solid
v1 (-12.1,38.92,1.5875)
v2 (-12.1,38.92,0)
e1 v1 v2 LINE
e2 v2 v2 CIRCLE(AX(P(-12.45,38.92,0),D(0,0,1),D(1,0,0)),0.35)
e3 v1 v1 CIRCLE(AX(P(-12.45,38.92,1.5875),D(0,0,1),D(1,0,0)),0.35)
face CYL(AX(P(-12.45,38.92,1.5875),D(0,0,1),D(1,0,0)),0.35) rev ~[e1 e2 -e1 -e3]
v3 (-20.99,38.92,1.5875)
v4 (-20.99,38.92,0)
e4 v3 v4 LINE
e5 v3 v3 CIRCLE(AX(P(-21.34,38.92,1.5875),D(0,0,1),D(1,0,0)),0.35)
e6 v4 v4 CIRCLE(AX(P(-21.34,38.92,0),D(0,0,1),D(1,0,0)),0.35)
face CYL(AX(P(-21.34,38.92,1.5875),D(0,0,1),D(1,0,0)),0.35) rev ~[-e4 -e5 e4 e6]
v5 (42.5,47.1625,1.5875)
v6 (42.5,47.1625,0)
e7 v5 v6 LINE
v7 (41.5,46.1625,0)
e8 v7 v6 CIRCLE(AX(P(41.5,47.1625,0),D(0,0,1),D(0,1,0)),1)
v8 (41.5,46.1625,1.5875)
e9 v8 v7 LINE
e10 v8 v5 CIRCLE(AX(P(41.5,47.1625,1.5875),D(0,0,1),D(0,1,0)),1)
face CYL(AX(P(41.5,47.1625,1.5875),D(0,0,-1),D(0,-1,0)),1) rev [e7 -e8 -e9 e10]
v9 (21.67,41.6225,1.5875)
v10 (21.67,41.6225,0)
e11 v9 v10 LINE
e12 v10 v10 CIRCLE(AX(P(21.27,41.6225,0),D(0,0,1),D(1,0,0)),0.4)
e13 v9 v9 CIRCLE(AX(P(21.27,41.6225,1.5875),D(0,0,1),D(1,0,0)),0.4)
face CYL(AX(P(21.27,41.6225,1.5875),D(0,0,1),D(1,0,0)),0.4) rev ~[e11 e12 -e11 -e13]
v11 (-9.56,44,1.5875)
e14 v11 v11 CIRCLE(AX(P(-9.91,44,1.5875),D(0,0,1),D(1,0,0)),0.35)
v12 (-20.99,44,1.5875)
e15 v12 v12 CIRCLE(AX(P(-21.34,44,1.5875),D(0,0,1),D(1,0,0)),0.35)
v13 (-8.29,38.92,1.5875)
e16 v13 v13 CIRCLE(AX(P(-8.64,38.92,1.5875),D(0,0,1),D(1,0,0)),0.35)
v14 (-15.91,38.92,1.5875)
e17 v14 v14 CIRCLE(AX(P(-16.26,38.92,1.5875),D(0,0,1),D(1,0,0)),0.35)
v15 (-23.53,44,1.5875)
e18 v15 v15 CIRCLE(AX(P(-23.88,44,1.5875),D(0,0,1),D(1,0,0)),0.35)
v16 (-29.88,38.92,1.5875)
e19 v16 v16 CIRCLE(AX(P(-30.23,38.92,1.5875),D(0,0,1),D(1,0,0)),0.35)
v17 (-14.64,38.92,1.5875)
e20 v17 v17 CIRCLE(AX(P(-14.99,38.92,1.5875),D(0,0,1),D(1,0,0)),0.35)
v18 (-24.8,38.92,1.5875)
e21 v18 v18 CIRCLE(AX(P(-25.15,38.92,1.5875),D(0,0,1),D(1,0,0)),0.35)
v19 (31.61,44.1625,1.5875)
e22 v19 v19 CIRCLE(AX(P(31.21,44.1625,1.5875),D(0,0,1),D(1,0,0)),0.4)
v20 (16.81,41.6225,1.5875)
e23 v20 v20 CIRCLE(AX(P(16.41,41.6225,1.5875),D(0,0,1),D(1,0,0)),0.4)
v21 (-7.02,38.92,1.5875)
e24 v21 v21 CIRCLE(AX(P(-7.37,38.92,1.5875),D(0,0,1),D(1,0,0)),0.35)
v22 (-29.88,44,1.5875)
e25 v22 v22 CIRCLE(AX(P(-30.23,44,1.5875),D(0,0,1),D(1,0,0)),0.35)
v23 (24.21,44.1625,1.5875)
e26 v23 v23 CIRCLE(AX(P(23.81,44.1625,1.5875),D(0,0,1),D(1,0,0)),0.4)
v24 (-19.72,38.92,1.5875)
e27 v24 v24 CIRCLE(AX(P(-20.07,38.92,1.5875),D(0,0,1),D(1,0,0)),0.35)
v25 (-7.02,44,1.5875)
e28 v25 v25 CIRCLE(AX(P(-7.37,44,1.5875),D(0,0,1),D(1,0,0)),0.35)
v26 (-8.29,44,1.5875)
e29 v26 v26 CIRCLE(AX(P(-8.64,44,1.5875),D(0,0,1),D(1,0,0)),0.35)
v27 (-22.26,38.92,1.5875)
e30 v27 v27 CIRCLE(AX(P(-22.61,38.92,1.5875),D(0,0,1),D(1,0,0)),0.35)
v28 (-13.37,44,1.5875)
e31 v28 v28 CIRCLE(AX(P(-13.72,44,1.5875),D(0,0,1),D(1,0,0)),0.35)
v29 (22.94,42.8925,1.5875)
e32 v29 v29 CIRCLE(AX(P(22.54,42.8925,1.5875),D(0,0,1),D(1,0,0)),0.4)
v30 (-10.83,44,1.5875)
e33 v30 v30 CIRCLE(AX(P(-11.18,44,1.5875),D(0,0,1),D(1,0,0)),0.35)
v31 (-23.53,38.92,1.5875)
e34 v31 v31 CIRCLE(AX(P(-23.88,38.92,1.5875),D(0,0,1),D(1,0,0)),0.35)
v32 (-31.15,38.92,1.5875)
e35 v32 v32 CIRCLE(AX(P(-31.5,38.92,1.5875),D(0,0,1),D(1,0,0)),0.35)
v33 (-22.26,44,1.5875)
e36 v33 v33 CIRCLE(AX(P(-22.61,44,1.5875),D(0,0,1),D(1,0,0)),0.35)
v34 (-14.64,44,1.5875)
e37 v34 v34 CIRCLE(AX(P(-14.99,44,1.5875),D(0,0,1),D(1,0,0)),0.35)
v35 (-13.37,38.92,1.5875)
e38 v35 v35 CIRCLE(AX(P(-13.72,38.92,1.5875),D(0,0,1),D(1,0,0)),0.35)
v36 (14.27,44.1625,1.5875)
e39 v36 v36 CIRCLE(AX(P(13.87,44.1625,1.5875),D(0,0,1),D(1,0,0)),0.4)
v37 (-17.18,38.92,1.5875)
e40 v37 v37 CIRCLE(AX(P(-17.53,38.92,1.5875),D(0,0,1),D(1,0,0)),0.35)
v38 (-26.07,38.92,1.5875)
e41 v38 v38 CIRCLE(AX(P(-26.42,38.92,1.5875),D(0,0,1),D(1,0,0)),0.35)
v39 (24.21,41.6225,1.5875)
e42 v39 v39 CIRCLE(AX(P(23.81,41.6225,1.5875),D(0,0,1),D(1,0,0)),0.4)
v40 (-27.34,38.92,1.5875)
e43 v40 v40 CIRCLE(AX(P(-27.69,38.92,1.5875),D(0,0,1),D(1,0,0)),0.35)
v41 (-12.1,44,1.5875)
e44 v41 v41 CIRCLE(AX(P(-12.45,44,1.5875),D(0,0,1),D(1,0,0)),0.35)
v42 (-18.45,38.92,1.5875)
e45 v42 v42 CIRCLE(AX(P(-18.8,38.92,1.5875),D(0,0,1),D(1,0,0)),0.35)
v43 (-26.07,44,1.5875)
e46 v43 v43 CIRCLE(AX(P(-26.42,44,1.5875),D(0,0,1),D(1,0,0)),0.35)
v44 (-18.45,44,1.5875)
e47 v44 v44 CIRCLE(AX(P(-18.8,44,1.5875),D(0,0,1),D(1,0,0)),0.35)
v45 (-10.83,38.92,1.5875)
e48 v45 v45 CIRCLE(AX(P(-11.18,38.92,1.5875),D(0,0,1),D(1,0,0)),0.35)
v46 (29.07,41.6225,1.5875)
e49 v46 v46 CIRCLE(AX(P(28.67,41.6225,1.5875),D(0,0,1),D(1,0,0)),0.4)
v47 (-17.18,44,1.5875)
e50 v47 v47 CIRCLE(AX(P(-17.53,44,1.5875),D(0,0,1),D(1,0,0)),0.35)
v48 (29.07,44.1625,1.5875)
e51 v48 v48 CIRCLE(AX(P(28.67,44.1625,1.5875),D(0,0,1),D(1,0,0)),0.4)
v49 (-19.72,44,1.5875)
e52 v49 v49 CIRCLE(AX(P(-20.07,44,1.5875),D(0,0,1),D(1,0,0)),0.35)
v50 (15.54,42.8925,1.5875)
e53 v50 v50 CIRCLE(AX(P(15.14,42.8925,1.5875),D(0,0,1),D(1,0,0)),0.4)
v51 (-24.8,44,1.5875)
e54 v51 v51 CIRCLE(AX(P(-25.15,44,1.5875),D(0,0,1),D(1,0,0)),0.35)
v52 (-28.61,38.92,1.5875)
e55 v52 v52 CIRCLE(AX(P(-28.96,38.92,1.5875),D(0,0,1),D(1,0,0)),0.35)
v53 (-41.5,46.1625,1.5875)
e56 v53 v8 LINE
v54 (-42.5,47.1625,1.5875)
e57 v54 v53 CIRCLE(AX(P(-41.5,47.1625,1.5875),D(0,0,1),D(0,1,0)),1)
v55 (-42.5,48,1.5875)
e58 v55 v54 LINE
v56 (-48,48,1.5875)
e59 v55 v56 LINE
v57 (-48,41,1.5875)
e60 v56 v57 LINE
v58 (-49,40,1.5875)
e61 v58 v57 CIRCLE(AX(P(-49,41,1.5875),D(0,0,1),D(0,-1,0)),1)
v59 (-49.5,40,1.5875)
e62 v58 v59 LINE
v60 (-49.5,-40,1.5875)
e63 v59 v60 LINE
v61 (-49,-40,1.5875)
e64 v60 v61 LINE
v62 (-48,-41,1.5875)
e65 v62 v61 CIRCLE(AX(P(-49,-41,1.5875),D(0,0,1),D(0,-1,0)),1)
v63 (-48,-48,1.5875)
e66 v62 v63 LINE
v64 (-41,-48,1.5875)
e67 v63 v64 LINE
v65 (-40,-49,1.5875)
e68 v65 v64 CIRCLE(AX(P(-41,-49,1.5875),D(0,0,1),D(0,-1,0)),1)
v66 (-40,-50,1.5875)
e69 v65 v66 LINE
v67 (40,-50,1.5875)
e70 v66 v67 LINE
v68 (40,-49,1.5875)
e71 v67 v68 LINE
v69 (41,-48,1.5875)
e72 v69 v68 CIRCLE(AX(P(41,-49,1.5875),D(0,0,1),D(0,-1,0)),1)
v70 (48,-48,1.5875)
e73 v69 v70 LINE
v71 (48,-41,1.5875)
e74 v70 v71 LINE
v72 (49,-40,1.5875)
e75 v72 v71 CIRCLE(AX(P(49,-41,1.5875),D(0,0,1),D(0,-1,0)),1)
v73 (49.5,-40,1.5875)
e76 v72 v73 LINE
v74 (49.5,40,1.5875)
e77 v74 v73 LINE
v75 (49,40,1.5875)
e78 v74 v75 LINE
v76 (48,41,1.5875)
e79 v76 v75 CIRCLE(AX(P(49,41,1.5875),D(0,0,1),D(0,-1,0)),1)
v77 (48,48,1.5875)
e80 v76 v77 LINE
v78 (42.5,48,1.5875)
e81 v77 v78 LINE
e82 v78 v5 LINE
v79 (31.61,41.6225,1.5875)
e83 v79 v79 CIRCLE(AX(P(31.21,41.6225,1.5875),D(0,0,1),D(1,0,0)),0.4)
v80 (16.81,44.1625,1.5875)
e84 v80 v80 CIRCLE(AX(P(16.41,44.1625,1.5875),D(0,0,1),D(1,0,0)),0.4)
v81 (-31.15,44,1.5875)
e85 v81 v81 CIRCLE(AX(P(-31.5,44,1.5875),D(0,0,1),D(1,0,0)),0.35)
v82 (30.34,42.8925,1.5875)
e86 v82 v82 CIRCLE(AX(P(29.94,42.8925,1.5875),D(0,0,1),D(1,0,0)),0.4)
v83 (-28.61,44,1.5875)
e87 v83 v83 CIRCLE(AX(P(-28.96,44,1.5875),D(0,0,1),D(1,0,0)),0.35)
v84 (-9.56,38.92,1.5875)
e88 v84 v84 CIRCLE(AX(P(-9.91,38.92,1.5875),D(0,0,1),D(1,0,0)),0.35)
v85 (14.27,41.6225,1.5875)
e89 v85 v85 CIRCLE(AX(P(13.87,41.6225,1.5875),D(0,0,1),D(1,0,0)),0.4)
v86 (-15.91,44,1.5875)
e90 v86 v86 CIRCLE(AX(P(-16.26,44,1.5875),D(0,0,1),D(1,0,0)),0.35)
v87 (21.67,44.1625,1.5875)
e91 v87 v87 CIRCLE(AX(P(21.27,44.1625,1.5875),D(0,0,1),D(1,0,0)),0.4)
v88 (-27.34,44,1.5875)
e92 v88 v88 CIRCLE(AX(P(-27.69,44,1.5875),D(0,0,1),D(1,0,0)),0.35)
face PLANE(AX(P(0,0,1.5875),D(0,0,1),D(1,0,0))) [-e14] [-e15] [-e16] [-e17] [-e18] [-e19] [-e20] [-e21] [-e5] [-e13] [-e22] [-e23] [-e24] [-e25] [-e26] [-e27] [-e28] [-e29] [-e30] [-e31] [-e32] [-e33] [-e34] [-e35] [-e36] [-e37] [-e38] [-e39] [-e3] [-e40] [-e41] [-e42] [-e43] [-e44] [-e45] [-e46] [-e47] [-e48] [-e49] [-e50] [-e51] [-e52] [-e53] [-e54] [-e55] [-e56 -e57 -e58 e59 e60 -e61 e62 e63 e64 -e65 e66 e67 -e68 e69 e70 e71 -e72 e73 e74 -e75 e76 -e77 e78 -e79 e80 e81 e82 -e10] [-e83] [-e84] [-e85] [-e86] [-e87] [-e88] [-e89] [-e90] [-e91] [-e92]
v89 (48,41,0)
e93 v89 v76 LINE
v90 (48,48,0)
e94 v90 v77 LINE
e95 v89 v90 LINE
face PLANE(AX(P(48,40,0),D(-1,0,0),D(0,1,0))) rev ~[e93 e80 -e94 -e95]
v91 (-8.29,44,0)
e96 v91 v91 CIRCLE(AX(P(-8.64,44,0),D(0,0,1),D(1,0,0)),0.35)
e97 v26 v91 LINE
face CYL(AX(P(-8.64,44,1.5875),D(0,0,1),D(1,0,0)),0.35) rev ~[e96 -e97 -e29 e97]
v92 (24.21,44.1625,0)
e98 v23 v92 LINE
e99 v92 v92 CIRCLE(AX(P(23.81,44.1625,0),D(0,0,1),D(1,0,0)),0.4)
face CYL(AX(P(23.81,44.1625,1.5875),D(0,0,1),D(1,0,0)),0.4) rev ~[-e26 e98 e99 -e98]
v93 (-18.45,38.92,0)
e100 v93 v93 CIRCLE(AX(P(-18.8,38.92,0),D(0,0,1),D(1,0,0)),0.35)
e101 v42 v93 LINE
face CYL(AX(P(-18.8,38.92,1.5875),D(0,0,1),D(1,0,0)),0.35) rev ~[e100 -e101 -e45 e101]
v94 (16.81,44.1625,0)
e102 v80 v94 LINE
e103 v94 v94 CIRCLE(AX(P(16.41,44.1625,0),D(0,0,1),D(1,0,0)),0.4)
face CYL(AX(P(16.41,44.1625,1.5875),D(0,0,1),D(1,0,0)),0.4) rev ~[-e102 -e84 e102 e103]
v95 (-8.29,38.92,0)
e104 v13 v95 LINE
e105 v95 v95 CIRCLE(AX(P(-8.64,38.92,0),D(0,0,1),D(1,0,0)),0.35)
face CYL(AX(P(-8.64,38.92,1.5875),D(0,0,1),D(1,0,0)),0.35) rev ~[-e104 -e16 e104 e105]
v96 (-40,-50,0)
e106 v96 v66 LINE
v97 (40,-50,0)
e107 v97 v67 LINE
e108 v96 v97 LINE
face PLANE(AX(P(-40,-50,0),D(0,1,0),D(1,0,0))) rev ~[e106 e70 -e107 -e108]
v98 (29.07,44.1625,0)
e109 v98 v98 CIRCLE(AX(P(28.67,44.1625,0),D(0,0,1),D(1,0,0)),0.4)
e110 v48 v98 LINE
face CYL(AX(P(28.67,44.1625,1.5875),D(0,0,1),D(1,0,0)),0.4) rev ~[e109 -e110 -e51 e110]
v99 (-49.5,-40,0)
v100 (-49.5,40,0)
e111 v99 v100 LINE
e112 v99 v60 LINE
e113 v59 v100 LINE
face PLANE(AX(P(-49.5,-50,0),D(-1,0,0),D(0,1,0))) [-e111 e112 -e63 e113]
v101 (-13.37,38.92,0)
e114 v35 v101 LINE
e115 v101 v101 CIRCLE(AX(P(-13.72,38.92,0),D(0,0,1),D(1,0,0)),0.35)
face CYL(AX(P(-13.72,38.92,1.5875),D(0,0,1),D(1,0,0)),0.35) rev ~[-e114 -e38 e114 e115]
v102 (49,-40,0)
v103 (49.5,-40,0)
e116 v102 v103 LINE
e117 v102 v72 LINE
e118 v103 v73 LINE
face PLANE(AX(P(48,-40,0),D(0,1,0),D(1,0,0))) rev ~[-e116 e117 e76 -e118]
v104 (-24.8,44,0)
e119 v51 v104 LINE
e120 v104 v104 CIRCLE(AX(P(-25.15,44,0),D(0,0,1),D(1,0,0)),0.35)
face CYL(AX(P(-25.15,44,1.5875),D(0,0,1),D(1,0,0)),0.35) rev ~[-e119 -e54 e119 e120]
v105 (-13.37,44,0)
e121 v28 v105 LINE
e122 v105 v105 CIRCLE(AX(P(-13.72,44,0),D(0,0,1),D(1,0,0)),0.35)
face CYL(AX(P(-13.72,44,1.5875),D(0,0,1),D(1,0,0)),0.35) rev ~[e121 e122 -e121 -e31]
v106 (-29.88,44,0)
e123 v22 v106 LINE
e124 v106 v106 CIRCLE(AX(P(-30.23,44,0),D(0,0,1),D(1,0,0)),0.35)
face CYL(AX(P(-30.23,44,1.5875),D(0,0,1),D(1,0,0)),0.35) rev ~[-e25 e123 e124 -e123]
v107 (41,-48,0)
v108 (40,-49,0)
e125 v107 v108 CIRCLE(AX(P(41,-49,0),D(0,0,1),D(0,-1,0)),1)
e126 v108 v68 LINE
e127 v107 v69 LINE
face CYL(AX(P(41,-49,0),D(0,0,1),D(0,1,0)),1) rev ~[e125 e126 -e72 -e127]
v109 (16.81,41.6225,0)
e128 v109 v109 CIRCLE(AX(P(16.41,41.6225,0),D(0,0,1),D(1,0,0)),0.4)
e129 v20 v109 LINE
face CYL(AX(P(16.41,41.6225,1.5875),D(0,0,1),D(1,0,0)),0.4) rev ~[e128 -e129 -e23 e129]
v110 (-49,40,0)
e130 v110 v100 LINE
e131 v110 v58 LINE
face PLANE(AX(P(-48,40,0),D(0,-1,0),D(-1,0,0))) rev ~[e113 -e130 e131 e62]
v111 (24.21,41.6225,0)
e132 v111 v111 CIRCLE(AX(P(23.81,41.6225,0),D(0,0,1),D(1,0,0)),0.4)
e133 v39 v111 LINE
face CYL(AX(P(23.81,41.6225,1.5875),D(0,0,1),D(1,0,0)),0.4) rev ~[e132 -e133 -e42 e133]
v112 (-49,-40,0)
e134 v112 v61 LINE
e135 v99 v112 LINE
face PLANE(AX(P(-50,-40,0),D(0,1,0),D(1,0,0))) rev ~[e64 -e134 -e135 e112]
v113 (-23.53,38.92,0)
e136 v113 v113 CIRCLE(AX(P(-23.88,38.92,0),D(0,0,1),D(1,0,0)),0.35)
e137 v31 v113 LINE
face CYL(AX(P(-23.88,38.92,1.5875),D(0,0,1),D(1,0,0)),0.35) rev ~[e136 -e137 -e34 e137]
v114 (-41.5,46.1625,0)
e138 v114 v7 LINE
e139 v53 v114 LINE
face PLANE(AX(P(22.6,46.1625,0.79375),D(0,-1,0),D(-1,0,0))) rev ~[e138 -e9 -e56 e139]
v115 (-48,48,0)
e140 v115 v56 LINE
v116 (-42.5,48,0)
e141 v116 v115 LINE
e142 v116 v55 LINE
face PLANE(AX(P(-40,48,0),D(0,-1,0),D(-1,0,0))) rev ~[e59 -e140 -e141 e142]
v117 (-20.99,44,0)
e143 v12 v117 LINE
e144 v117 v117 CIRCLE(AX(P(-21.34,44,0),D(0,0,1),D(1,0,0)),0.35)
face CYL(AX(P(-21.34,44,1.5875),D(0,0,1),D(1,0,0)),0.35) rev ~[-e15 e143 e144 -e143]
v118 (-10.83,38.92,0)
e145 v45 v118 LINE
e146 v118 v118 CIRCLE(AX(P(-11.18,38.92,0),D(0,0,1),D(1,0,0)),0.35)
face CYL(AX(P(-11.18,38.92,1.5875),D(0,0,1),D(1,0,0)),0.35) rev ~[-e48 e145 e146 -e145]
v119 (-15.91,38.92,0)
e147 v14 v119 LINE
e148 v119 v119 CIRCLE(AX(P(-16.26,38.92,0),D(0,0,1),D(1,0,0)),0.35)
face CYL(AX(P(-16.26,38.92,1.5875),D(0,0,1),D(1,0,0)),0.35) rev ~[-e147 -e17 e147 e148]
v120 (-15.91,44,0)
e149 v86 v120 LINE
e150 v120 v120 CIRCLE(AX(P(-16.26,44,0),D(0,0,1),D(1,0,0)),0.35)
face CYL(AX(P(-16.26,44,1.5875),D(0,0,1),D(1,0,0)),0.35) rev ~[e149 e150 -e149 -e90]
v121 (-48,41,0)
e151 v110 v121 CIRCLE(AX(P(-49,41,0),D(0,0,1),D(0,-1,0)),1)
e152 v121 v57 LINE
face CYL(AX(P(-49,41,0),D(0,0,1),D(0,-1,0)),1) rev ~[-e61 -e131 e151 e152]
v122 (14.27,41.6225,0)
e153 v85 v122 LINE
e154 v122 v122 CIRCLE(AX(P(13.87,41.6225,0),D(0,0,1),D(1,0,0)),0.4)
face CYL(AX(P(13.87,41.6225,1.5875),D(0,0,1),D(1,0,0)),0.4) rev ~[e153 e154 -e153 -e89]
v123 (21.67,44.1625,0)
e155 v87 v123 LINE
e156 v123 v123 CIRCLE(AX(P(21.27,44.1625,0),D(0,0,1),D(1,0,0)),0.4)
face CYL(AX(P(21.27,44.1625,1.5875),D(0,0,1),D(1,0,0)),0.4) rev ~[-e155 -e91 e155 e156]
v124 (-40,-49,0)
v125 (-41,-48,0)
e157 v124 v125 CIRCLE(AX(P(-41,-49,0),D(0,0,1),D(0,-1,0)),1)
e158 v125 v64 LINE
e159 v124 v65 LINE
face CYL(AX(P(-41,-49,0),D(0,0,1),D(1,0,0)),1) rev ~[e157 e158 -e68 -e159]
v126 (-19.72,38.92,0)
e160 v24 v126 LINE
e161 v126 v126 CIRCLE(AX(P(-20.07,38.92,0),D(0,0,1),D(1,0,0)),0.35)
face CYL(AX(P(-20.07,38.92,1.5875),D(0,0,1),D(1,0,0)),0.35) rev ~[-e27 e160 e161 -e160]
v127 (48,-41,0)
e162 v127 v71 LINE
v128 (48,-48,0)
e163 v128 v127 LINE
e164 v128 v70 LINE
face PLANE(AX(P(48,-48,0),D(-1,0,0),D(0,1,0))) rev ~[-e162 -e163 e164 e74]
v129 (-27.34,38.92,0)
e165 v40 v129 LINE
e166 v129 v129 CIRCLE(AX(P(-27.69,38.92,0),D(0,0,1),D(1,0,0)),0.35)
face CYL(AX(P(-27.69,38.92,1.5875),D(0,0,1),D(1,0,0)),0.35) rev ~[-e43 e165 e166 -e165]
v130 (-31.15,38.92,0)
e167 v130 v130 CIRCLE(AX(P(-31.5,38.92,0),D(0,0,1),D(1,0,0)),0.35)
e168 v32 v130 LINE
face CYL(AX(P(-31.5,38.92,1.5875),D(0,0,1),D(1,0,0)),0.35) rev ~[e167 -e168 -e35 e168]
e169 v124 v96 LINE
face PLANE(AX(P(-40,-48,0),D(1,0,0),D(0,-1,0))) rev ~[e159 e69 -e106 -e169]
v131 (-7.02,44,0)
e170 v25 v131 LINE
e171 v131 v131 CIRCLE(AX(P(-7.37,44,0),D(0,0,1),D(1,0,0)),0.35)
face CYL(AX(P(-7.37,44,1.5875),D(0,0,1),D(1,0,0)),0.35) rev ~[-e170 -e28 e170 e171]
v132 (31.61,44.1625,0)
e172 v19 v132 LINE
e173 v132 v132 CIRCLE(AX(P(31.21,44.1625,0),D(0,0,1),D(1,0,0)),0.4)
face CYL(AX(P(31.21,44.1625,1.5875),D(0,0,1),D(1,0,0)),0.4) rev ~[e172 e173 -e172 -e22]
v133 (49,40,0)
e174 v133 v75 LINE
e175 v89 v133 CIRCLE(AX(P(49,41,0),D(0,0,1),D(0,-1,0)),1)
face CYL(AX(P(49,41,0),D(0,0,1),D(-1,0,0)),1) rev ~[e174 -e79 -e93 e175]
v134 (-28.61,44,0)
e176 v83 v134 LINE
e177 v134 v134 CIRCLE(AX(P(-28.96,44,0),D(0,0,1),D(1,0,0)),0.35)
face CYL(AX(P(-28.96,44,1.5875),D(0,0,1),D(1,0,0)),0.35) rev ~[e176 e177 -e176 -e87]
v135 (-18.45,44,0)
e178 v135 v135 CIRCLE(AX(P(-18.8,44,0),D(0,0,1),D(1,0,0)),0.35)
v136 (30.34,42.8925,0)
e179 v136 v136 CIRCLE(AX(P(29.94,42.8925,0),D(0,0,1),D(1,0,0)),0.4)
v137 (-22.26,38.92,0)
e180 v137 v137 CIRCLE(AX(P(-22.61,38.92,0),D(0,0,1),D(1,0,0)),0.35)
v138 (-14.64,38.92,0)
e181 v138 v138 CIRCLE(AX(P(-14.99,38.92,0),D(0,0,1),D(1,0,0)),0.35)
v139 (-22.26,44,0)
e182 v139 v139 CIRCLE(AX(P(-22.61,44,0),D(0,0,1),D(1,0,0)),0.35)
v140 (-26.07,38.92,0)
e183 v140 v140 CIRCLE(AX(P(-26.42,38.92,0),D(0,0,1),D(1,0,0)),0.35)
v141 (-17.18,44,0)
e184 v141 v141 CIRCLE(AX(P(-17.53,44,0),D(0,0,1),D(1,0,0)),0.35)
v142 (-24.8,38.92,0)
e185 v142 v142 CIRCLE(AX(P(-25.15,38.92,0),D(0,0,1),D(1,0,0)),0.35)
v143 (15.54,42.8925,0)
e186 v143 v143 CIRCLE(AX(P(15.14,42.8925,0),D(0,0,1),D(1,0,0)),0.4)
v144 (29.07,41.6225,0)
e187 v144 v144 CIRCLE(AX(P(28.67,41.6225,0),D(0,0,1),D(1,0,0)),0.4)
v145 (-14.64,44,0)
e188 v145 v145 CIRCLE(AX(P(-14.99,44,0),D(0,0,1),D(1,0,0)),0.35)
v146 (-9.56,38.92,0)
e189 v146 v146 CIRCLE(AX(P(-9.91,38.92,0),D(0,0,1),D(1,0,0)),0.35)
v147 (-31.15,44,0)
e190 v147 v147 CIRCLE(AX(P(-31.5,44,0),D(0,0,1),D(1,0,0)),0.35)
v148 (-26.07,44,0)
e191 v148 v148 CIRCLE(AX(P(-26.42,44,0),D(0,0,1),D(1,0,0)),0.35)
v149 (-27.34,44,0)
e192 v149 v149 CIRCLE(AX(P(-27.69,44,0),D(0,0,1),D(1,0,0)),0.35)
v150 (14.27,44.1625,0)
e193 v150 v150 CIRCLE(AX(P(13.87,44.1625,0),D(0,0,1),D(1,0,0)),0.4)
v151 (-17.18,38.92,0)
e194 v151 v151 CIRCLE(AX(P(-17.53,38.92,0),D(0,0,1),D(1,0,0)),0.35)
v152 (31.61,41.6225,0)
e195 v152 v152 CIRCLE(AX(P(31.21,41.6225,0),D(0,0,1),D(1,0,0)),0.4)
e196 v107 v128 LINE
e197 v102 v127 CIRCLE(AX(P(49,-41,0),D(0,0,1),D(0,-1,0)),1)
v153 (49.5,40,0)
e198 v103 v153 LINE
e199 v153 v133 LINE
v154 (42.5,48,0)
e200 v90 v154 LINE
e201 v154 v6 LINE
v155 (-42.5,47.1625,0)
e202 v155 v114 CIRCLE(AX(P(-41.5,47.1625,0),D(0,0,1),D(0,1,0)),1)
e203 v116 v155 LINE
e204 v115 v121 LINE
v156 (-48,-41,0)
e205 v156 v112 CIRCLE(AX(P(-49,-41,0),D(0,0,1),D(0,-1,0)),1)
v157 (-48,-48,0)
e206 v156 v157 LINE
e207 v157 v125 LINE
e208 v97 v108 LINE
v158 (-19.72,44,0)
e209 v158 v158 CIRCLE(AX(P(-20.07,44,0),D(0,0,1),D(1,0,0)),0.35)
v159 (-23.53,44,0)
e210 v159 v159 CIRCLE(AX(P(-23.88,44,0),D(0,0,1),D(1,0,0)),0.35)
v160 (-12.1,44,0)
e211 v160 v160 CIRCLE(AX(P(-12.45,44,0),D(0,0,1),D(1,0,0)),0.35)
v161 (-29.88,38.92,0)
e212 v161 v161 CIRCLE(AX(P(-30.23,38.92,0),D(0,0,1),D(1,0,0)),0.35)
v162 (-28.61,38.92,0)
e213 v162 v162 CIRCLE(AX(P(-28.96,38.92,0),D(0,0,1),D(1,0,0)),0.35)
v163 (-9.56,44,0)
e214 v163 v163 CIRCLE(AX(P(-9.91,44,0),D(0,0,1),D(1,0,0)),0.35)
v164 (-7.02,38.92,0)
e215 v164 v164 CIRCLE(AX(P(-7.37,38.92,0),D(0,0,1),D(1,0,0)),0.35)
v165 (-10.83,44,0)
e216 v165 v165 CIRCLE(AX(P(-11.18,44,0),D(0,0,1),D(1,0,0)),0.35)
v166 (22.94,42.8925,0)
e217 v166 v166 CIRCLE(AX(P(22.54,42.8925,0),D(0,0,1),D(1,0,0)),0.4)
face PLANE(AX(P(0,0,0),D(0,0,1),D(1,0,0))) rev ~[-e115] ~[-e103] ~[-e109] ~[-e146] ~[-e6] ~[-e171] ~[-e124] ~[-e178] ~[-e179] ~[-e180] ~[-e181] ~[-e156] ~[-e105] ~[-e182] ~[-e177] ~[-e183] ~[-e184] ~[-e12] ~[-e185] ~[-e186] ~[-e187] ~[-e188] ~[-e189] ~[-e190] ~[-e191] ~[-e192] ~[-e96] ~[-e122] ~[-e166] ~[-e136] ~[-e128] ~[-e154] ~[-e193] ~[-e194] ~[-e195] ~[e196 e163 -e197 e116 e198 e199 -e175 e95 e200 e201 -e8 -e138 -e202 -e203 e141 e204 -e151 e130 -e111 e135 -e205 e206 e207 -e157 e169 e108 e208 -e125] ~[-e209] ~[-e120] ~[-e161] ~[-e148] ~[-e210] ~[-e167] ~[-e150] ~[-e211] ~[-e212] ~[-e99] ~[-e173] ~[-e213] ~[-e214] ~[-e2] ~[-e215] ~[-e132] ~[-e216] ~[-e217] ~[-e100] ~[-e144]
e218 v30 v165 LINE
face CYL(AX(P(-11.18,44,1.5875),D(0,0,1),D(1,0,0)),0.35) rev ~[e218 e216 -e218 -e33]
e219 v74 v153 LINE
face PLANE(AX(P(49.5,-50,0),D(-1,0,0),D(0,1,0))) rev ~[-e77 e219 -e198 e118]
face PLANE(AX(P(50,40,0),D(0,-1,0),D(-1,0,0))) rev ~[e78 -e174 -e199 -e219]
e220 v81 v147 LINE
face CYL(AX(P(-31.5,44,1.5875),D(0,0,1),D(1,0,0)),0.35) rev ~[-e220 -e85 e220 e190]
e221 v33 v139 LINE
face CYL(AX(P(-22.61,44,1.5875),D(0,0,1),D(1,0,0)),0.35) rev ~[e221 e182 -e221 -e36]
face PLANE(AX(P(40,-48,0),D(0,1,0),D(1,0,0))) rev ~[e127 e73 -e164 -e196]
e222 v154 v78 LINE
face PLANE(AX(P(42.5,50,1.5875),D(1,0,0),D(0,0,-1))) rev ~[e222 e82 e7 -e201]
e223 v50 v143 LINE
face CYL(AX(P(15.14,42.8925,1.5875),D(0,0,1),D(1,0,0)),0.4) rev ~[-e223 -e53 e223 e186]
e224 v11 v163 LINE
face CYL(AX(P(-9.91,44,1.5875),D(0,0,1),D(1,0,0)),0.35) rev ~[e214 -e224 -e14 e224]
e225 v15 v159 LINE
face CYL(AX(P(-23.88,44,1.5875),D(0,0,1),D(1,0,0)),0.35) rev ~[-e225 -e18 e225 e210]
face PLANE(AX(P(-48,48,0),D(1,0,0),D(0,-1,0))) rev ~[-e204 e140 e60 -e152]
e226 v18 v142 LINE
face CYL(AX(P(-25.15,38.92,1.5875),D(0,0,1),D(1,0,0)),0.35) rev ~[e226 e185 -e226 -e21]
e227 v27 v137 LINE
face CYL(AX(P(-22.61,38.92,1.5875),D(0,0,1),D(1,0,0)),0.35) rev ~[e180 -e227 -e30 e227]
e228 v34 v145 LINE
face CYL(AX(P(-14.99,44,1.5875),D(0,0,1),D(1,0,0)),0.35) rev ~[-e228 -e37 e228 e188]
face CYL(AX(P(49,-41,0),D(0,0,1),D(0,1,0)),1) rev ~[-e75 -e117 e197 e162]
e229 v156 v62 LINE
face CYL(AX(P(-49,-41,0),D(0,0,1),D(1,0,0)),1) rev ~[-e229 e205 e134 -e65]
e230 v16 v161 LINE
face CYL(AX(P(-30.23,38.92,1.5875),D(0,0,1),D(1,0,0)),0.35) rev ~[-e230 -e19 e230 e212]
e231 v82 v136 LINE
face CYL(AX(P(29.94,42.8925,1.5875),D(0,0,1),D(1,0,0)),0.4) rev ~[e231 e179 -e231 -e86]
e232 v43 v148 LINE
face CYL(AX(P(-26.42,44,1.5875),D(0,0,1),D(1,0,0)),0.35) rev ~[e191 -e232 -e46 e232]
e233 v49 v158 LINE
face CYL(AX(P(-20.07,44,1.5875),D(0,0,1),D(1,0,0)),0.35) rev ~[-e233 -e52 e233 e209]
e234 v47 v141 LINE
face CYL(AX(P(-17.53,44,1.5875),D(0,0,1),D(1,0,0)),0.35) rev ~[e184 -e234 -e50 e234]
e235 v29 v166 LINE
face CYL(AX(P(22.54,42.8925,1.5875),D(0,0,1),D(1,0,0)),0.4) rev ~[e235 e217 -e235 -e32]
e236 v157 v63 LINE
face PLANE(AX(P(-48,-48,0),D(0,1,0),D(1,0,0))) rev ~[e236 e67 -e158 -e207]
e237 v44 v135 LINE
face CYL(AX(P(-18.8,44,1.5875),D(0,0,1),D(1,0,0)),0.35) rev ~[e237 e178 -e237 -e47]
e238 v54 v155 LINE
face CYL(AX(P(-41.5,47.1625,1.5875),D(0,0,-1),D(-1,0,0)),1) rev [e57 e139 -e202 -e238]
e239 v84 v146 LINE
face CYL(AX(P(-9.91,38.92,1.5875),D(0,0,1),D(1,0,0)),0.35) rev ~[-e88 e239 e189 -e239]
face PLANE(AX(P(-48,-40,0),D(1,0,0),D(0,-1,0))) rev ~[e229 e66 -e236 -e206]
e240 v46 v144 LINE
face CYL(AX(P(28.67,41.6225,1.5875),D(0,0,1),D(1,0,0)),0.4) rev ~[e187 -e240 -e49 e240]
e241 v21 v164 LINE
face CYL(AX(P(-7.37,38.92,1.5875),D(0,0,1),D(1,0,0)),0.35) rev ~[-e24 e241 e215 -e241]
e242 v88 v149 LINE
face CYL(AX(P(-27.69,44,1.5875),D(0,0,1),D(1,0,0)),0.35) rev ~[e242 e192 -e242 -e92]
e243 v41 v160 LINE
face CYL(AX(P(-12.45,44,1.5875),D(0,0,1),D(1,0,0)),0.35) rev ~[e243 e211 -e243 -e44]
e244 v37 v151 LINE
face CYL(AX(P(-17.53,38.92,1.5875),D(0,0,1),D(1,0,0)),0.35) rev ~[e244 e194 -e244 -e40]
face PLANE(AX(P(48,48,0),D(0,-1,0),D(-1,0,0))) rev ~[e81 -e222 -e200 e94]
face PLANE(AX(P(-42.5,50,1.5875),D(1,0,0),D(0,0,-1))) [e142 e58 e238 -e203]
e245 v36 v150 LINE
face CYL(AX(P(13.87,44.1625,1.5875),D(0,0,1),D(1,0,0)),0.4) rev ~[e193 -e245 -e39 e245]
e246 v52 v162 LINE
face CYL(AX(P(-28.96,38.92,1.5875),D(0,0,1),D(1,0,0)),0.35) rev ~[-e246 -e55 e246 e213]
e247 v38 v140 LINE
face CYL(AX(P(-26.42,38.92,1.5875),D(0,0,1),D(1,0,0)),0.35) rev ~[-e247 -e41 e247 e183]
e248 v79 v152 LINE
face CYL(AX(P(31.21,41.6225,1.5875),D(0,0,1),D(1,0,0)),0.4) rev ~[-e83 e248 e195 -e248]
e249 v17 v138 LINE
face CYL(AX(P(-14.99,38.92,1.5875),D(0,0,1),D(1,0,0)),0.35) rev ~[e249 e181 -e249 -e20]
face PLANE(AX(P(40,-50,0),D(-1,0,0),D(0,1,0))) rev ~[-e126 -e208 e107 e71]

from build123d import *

# Parameters (mm, degrees)
BOSS_EXTRUDE1_DEPTH = 1.5875
SKETCH2_R           = 0.35
CUT_EXTRUDE1_DEPTH  = 71.728496069
CUT_EXTRUDE2_DEPTH  = 3.8375
FILLET2_R           = 1
SKETCH5_OUTSIDE_W   = 130.286
SKETCH5_OUTSIDE_H   = 130.286
SKETCH5_OUTSIDE_W_2 = 99
SKETCH5_OUTSIDE_H_2 = 100
CUT_EXTRUDE3_DEPTH  = 71.728496069
SKETCH8_W           = 85
SKETCH8_H           = 1.5875
CUT_EXTRUDE4_DEPTH  = 3.8375
FILLET1_R           = 1
SKETCH6_R           = 0.4
CUT_EXTRUDE5_DEPTH  = 71.375920287


with BuildPart() as part:
    # Sketch1 → Boss-Extrude1 (new body)
    with BuildSketch(Plane.XY):
        Polygon((40, 50), (-40, 50), (-40, 48), (-48, 48), (-48, 40), (-50, 40), (-50, -37.864895224), (-50, -40), (-48, -40), (-48, -48), (-40, -48), (-40, -50), (-37.864895224, -50), (40, -50), (40, -48), (48, -48), (48, -40), (50, -40), (50, 40), (48, 40), (48, 48), (40, 48), align=None)
    extrude(amount=BOSS_EXTRUDE1_DEPTH)

    # Sketch2 → Cut-Extrude1 (cut, through all)
    with BuildSketch(Plane.XY.offset(1.5875)):
        with Locations((-31.5, 44)):
            Circle(SKETCH2_R)
        with Locations((-30.23, 44)):
            Circle(SKETCH2_R)
        with Locations((-28.96, 44)):
            Circle(SKETCH2_R)
        with Locations((-27.69, 44)):
            Circle(SKETCH2_R)
        with Locations((-26.42, 44)):
            Circle(SKETCH2_R)
        with Locations((-25.15, 44)):
            Circle(SKETCH2_R)
        with Locations((-23.88, 44)):
            Circle(SKETCH2_R)
        with Locations((-22.61, 44)):
            Circle(SKETCH2_R)
        with Locations((-21.34, 44)):
            Circle(SKETCH2_R)
        with Locations((-20.07, 44)):
            Circle(SKETCH2_R)
        with Locations((-18.8, 44)):
            Circle(SKETCH2_R)
        with Locations((-17.53, 44)):
            Circle(SKETCH2_R)
        with Locations((-16.26, 44)):
            Circle(SKETCH2_R)
        with Locations((-14.99, 44)):
            Circle(SKETCH2_R)
        with Locations((-13.72, 44)):
            Circle(SKETCH2_R)
        with Locations((-12.45, 44)):
            Circle(SKETCH2_R)
        with Locations((-11.18, 44)):
            Circle(SKETCH2_R)
        with Locations((-9.91, 44)):
            Circle(SKETCH2_R)
        with Locations((-8.64, 44)):
            Circle(SKETCH2_R)
        with Locations((-7.37, 44)):
            Circle(SKETCH2_R)
        with Locations((-30.23, 38.92)):
            Circle(SKETCH2_R)
        with Locations((-28.96, 38.92)):
            Circle(SKETCH2_R)
        with Locations((-27.69, 38.92)):
            Circle(SKETCH2_R)
        with Locations((-26.42, 38.92)):
            Circle(SKETCH2_R)
        with Locations((-25.15, 38.92)):
            Circle(SKETCH2_R)
        with Locations((-23.88, 38.92)):
            Circle(SKETCH2_R)
        with Locations((-22.61, 38.92)):
            Circle(SKETCH2_R)
        with Locations((-21.34, 38.92)):
            Circle(SKETCH2_R)
        with Locations((-20.07, 38.92)):
            Circle(SKETCH2_R)
        with Locations((-18.8, 38.92)):
            Circle(SKETCH2_R)
        with Locations((-17.53, 38.92)):
            Circle(SKETCH2_R)
        with Locations((-16.26, 38.92)):
            Circle(SKETCH2_R)
        with Locations((-14.99, 38.92)):
            Circle(SKETCH2_R)
        with Locations((-13.72, 38.92)):
            Circle(SKETCH2_R)
        with Locations((-12.45, 38.92)):
            Circle(SKETCH2_R)
        with Locations((-11.18, 38.92)):
            Circle(SKETCH2_R)
        with Locations((-9.91, 38.92)):
            Circle(SKETCH2_R)
        with Locations((-8.64, 38.92)):
            Circle(SKETCH2_R)
        with Locations((-7.37, 38.92)):
            Circle(SKETCH2_R)
        with Locations((-31.5, 38.92)):
            Circle(SKETCH2_R)
    extrude(amount=-CUT_EXTRUDE1_DEPTH, mode=Mode.SUBTRACT)

    # Sketch3 → Cut-Extrude2 (cut)
    with BuildSketch(Plane(origin=(0, 50, 0), x_dir=(1, 0, 0), z_dir=(0, 1, 0))):
        Polygon((10.7, 0), (19.7, 0), (34.5, 0), (34.5, -1.5875), (19.7, -1.5875), (10.7, -1.5875), align=None)
    extrude(amount=-CUT_EXTRUDE2_DEPTH, mode=Mode.SUBTRACT)

    # Fillet2
    fillet2_edges = [part.edges().sort_by_distance(p)[0] for p in [
        (10.7, 46.1625, 0.79375),
        (34.5, 46.1625, 0.79375),
    ]]
    fillet(fillet2_edges, radius=FILLET2_R)

    # Sketch5 outside → Cut-Extrude3 (cut, through all)
    with BuildSketch(Plane(origin=(0, 0, 0), x_dir=(-1, 0, 0), z_dir=(0, 0, -1))):
        Rectangle(SKETCH5_OUTSIDE_W, SKETCH5_OUTSIDE_H)
        Rectangle(SKETCH5_OUTSIDE_W_2, SKETCH5_OUTSIDE_H_2, mode=Mode.SUBTRACT)
    extrude(amount=-CUT_EXTRUDE3_DEPTH, mode=Mode.SUBTRACT)

    # Sketch8 → Cut-Extrude4 (cut)
    with BuildSketch(Plane(origin=(0, 50, 0), x_dir=(1, 0, 0), z_dir=(0, 1, 0))):
        with Locations((0, -0.79375)):
            Rectangle(SKETCH8_W, SKETCH8_H)
    extrude(amount=-CUT_EXTRUDE4_DEPTH, mode=Mode.SUBTRACT)

    # Fillet1
    fillet1_edges = [part.edges().sort_by_distance(p)[0] for p in [
        (42.5, 46.1625, 0.79375),
        (-42.5, 46.1625, 0.79375),
        (-48, -40, 0.79375),
        (-48, 40, 0.79375),
        (48, 40, 0.79375),
        (48, -40, 0.79375),
        (40, -48, 0.79375),
        (-40, -48, 0.79375),
    ]]
    fillet(fillet1_edges, radius=FILLET1_R)

    # Sketch6 → Cut-Extrude5 (cut, through all)
    with BuildSketch(Plane.XY.offset(1.5875)):
        with Locations((29.94, 42.8925)):
            Circle(SKETCH6_R)
        with Locations((28.67, 44.1625)):
            Circle(SKETCH6_R)
        with Locations((31.21, 44.1625)):
            Circle(SKETCH6_R)
        with Locations((31.21, 41.6225)):
            Circle(SKETCH6_R)
        with Locations((28.67, 41.6225)):
            Circle(SKETCH6_R)
        with Locations((22.54, 42.8925)):
            Circle(SKETCH6_R)
        with Locations((21.27, 44.1625)):
            Circle(SKETCH6_R)
        with Locations((23.81, 44.1625)):
            Circle(SKETCH6_R)
        with Locations((23.81, 41.6225)):
            Circle(SKETCH6_R)
        with Locations((21.27, 41.6225)):
            Circle(SKETCH6_R)
        with Locations((15.14, 42.8925)):
            Circle(SKETCH6_R)
        with Locations((13.87, 44.1625)):
            Circle(SKETCH6_R)
        with Locations((16.41, 44.1625)):
            Circle(SKETCH6_R)
        with Locations((16.41, 41.6225)):
            Circle(SKETCH6_R)
        with Locations((13.87, 41.6225)):
            Circle(SKETCH6_R)
    extrude(amount=-CUT_EXTRUDE5_DEPTH, mode=Mode.SUBTRACT)


solid = part.part
